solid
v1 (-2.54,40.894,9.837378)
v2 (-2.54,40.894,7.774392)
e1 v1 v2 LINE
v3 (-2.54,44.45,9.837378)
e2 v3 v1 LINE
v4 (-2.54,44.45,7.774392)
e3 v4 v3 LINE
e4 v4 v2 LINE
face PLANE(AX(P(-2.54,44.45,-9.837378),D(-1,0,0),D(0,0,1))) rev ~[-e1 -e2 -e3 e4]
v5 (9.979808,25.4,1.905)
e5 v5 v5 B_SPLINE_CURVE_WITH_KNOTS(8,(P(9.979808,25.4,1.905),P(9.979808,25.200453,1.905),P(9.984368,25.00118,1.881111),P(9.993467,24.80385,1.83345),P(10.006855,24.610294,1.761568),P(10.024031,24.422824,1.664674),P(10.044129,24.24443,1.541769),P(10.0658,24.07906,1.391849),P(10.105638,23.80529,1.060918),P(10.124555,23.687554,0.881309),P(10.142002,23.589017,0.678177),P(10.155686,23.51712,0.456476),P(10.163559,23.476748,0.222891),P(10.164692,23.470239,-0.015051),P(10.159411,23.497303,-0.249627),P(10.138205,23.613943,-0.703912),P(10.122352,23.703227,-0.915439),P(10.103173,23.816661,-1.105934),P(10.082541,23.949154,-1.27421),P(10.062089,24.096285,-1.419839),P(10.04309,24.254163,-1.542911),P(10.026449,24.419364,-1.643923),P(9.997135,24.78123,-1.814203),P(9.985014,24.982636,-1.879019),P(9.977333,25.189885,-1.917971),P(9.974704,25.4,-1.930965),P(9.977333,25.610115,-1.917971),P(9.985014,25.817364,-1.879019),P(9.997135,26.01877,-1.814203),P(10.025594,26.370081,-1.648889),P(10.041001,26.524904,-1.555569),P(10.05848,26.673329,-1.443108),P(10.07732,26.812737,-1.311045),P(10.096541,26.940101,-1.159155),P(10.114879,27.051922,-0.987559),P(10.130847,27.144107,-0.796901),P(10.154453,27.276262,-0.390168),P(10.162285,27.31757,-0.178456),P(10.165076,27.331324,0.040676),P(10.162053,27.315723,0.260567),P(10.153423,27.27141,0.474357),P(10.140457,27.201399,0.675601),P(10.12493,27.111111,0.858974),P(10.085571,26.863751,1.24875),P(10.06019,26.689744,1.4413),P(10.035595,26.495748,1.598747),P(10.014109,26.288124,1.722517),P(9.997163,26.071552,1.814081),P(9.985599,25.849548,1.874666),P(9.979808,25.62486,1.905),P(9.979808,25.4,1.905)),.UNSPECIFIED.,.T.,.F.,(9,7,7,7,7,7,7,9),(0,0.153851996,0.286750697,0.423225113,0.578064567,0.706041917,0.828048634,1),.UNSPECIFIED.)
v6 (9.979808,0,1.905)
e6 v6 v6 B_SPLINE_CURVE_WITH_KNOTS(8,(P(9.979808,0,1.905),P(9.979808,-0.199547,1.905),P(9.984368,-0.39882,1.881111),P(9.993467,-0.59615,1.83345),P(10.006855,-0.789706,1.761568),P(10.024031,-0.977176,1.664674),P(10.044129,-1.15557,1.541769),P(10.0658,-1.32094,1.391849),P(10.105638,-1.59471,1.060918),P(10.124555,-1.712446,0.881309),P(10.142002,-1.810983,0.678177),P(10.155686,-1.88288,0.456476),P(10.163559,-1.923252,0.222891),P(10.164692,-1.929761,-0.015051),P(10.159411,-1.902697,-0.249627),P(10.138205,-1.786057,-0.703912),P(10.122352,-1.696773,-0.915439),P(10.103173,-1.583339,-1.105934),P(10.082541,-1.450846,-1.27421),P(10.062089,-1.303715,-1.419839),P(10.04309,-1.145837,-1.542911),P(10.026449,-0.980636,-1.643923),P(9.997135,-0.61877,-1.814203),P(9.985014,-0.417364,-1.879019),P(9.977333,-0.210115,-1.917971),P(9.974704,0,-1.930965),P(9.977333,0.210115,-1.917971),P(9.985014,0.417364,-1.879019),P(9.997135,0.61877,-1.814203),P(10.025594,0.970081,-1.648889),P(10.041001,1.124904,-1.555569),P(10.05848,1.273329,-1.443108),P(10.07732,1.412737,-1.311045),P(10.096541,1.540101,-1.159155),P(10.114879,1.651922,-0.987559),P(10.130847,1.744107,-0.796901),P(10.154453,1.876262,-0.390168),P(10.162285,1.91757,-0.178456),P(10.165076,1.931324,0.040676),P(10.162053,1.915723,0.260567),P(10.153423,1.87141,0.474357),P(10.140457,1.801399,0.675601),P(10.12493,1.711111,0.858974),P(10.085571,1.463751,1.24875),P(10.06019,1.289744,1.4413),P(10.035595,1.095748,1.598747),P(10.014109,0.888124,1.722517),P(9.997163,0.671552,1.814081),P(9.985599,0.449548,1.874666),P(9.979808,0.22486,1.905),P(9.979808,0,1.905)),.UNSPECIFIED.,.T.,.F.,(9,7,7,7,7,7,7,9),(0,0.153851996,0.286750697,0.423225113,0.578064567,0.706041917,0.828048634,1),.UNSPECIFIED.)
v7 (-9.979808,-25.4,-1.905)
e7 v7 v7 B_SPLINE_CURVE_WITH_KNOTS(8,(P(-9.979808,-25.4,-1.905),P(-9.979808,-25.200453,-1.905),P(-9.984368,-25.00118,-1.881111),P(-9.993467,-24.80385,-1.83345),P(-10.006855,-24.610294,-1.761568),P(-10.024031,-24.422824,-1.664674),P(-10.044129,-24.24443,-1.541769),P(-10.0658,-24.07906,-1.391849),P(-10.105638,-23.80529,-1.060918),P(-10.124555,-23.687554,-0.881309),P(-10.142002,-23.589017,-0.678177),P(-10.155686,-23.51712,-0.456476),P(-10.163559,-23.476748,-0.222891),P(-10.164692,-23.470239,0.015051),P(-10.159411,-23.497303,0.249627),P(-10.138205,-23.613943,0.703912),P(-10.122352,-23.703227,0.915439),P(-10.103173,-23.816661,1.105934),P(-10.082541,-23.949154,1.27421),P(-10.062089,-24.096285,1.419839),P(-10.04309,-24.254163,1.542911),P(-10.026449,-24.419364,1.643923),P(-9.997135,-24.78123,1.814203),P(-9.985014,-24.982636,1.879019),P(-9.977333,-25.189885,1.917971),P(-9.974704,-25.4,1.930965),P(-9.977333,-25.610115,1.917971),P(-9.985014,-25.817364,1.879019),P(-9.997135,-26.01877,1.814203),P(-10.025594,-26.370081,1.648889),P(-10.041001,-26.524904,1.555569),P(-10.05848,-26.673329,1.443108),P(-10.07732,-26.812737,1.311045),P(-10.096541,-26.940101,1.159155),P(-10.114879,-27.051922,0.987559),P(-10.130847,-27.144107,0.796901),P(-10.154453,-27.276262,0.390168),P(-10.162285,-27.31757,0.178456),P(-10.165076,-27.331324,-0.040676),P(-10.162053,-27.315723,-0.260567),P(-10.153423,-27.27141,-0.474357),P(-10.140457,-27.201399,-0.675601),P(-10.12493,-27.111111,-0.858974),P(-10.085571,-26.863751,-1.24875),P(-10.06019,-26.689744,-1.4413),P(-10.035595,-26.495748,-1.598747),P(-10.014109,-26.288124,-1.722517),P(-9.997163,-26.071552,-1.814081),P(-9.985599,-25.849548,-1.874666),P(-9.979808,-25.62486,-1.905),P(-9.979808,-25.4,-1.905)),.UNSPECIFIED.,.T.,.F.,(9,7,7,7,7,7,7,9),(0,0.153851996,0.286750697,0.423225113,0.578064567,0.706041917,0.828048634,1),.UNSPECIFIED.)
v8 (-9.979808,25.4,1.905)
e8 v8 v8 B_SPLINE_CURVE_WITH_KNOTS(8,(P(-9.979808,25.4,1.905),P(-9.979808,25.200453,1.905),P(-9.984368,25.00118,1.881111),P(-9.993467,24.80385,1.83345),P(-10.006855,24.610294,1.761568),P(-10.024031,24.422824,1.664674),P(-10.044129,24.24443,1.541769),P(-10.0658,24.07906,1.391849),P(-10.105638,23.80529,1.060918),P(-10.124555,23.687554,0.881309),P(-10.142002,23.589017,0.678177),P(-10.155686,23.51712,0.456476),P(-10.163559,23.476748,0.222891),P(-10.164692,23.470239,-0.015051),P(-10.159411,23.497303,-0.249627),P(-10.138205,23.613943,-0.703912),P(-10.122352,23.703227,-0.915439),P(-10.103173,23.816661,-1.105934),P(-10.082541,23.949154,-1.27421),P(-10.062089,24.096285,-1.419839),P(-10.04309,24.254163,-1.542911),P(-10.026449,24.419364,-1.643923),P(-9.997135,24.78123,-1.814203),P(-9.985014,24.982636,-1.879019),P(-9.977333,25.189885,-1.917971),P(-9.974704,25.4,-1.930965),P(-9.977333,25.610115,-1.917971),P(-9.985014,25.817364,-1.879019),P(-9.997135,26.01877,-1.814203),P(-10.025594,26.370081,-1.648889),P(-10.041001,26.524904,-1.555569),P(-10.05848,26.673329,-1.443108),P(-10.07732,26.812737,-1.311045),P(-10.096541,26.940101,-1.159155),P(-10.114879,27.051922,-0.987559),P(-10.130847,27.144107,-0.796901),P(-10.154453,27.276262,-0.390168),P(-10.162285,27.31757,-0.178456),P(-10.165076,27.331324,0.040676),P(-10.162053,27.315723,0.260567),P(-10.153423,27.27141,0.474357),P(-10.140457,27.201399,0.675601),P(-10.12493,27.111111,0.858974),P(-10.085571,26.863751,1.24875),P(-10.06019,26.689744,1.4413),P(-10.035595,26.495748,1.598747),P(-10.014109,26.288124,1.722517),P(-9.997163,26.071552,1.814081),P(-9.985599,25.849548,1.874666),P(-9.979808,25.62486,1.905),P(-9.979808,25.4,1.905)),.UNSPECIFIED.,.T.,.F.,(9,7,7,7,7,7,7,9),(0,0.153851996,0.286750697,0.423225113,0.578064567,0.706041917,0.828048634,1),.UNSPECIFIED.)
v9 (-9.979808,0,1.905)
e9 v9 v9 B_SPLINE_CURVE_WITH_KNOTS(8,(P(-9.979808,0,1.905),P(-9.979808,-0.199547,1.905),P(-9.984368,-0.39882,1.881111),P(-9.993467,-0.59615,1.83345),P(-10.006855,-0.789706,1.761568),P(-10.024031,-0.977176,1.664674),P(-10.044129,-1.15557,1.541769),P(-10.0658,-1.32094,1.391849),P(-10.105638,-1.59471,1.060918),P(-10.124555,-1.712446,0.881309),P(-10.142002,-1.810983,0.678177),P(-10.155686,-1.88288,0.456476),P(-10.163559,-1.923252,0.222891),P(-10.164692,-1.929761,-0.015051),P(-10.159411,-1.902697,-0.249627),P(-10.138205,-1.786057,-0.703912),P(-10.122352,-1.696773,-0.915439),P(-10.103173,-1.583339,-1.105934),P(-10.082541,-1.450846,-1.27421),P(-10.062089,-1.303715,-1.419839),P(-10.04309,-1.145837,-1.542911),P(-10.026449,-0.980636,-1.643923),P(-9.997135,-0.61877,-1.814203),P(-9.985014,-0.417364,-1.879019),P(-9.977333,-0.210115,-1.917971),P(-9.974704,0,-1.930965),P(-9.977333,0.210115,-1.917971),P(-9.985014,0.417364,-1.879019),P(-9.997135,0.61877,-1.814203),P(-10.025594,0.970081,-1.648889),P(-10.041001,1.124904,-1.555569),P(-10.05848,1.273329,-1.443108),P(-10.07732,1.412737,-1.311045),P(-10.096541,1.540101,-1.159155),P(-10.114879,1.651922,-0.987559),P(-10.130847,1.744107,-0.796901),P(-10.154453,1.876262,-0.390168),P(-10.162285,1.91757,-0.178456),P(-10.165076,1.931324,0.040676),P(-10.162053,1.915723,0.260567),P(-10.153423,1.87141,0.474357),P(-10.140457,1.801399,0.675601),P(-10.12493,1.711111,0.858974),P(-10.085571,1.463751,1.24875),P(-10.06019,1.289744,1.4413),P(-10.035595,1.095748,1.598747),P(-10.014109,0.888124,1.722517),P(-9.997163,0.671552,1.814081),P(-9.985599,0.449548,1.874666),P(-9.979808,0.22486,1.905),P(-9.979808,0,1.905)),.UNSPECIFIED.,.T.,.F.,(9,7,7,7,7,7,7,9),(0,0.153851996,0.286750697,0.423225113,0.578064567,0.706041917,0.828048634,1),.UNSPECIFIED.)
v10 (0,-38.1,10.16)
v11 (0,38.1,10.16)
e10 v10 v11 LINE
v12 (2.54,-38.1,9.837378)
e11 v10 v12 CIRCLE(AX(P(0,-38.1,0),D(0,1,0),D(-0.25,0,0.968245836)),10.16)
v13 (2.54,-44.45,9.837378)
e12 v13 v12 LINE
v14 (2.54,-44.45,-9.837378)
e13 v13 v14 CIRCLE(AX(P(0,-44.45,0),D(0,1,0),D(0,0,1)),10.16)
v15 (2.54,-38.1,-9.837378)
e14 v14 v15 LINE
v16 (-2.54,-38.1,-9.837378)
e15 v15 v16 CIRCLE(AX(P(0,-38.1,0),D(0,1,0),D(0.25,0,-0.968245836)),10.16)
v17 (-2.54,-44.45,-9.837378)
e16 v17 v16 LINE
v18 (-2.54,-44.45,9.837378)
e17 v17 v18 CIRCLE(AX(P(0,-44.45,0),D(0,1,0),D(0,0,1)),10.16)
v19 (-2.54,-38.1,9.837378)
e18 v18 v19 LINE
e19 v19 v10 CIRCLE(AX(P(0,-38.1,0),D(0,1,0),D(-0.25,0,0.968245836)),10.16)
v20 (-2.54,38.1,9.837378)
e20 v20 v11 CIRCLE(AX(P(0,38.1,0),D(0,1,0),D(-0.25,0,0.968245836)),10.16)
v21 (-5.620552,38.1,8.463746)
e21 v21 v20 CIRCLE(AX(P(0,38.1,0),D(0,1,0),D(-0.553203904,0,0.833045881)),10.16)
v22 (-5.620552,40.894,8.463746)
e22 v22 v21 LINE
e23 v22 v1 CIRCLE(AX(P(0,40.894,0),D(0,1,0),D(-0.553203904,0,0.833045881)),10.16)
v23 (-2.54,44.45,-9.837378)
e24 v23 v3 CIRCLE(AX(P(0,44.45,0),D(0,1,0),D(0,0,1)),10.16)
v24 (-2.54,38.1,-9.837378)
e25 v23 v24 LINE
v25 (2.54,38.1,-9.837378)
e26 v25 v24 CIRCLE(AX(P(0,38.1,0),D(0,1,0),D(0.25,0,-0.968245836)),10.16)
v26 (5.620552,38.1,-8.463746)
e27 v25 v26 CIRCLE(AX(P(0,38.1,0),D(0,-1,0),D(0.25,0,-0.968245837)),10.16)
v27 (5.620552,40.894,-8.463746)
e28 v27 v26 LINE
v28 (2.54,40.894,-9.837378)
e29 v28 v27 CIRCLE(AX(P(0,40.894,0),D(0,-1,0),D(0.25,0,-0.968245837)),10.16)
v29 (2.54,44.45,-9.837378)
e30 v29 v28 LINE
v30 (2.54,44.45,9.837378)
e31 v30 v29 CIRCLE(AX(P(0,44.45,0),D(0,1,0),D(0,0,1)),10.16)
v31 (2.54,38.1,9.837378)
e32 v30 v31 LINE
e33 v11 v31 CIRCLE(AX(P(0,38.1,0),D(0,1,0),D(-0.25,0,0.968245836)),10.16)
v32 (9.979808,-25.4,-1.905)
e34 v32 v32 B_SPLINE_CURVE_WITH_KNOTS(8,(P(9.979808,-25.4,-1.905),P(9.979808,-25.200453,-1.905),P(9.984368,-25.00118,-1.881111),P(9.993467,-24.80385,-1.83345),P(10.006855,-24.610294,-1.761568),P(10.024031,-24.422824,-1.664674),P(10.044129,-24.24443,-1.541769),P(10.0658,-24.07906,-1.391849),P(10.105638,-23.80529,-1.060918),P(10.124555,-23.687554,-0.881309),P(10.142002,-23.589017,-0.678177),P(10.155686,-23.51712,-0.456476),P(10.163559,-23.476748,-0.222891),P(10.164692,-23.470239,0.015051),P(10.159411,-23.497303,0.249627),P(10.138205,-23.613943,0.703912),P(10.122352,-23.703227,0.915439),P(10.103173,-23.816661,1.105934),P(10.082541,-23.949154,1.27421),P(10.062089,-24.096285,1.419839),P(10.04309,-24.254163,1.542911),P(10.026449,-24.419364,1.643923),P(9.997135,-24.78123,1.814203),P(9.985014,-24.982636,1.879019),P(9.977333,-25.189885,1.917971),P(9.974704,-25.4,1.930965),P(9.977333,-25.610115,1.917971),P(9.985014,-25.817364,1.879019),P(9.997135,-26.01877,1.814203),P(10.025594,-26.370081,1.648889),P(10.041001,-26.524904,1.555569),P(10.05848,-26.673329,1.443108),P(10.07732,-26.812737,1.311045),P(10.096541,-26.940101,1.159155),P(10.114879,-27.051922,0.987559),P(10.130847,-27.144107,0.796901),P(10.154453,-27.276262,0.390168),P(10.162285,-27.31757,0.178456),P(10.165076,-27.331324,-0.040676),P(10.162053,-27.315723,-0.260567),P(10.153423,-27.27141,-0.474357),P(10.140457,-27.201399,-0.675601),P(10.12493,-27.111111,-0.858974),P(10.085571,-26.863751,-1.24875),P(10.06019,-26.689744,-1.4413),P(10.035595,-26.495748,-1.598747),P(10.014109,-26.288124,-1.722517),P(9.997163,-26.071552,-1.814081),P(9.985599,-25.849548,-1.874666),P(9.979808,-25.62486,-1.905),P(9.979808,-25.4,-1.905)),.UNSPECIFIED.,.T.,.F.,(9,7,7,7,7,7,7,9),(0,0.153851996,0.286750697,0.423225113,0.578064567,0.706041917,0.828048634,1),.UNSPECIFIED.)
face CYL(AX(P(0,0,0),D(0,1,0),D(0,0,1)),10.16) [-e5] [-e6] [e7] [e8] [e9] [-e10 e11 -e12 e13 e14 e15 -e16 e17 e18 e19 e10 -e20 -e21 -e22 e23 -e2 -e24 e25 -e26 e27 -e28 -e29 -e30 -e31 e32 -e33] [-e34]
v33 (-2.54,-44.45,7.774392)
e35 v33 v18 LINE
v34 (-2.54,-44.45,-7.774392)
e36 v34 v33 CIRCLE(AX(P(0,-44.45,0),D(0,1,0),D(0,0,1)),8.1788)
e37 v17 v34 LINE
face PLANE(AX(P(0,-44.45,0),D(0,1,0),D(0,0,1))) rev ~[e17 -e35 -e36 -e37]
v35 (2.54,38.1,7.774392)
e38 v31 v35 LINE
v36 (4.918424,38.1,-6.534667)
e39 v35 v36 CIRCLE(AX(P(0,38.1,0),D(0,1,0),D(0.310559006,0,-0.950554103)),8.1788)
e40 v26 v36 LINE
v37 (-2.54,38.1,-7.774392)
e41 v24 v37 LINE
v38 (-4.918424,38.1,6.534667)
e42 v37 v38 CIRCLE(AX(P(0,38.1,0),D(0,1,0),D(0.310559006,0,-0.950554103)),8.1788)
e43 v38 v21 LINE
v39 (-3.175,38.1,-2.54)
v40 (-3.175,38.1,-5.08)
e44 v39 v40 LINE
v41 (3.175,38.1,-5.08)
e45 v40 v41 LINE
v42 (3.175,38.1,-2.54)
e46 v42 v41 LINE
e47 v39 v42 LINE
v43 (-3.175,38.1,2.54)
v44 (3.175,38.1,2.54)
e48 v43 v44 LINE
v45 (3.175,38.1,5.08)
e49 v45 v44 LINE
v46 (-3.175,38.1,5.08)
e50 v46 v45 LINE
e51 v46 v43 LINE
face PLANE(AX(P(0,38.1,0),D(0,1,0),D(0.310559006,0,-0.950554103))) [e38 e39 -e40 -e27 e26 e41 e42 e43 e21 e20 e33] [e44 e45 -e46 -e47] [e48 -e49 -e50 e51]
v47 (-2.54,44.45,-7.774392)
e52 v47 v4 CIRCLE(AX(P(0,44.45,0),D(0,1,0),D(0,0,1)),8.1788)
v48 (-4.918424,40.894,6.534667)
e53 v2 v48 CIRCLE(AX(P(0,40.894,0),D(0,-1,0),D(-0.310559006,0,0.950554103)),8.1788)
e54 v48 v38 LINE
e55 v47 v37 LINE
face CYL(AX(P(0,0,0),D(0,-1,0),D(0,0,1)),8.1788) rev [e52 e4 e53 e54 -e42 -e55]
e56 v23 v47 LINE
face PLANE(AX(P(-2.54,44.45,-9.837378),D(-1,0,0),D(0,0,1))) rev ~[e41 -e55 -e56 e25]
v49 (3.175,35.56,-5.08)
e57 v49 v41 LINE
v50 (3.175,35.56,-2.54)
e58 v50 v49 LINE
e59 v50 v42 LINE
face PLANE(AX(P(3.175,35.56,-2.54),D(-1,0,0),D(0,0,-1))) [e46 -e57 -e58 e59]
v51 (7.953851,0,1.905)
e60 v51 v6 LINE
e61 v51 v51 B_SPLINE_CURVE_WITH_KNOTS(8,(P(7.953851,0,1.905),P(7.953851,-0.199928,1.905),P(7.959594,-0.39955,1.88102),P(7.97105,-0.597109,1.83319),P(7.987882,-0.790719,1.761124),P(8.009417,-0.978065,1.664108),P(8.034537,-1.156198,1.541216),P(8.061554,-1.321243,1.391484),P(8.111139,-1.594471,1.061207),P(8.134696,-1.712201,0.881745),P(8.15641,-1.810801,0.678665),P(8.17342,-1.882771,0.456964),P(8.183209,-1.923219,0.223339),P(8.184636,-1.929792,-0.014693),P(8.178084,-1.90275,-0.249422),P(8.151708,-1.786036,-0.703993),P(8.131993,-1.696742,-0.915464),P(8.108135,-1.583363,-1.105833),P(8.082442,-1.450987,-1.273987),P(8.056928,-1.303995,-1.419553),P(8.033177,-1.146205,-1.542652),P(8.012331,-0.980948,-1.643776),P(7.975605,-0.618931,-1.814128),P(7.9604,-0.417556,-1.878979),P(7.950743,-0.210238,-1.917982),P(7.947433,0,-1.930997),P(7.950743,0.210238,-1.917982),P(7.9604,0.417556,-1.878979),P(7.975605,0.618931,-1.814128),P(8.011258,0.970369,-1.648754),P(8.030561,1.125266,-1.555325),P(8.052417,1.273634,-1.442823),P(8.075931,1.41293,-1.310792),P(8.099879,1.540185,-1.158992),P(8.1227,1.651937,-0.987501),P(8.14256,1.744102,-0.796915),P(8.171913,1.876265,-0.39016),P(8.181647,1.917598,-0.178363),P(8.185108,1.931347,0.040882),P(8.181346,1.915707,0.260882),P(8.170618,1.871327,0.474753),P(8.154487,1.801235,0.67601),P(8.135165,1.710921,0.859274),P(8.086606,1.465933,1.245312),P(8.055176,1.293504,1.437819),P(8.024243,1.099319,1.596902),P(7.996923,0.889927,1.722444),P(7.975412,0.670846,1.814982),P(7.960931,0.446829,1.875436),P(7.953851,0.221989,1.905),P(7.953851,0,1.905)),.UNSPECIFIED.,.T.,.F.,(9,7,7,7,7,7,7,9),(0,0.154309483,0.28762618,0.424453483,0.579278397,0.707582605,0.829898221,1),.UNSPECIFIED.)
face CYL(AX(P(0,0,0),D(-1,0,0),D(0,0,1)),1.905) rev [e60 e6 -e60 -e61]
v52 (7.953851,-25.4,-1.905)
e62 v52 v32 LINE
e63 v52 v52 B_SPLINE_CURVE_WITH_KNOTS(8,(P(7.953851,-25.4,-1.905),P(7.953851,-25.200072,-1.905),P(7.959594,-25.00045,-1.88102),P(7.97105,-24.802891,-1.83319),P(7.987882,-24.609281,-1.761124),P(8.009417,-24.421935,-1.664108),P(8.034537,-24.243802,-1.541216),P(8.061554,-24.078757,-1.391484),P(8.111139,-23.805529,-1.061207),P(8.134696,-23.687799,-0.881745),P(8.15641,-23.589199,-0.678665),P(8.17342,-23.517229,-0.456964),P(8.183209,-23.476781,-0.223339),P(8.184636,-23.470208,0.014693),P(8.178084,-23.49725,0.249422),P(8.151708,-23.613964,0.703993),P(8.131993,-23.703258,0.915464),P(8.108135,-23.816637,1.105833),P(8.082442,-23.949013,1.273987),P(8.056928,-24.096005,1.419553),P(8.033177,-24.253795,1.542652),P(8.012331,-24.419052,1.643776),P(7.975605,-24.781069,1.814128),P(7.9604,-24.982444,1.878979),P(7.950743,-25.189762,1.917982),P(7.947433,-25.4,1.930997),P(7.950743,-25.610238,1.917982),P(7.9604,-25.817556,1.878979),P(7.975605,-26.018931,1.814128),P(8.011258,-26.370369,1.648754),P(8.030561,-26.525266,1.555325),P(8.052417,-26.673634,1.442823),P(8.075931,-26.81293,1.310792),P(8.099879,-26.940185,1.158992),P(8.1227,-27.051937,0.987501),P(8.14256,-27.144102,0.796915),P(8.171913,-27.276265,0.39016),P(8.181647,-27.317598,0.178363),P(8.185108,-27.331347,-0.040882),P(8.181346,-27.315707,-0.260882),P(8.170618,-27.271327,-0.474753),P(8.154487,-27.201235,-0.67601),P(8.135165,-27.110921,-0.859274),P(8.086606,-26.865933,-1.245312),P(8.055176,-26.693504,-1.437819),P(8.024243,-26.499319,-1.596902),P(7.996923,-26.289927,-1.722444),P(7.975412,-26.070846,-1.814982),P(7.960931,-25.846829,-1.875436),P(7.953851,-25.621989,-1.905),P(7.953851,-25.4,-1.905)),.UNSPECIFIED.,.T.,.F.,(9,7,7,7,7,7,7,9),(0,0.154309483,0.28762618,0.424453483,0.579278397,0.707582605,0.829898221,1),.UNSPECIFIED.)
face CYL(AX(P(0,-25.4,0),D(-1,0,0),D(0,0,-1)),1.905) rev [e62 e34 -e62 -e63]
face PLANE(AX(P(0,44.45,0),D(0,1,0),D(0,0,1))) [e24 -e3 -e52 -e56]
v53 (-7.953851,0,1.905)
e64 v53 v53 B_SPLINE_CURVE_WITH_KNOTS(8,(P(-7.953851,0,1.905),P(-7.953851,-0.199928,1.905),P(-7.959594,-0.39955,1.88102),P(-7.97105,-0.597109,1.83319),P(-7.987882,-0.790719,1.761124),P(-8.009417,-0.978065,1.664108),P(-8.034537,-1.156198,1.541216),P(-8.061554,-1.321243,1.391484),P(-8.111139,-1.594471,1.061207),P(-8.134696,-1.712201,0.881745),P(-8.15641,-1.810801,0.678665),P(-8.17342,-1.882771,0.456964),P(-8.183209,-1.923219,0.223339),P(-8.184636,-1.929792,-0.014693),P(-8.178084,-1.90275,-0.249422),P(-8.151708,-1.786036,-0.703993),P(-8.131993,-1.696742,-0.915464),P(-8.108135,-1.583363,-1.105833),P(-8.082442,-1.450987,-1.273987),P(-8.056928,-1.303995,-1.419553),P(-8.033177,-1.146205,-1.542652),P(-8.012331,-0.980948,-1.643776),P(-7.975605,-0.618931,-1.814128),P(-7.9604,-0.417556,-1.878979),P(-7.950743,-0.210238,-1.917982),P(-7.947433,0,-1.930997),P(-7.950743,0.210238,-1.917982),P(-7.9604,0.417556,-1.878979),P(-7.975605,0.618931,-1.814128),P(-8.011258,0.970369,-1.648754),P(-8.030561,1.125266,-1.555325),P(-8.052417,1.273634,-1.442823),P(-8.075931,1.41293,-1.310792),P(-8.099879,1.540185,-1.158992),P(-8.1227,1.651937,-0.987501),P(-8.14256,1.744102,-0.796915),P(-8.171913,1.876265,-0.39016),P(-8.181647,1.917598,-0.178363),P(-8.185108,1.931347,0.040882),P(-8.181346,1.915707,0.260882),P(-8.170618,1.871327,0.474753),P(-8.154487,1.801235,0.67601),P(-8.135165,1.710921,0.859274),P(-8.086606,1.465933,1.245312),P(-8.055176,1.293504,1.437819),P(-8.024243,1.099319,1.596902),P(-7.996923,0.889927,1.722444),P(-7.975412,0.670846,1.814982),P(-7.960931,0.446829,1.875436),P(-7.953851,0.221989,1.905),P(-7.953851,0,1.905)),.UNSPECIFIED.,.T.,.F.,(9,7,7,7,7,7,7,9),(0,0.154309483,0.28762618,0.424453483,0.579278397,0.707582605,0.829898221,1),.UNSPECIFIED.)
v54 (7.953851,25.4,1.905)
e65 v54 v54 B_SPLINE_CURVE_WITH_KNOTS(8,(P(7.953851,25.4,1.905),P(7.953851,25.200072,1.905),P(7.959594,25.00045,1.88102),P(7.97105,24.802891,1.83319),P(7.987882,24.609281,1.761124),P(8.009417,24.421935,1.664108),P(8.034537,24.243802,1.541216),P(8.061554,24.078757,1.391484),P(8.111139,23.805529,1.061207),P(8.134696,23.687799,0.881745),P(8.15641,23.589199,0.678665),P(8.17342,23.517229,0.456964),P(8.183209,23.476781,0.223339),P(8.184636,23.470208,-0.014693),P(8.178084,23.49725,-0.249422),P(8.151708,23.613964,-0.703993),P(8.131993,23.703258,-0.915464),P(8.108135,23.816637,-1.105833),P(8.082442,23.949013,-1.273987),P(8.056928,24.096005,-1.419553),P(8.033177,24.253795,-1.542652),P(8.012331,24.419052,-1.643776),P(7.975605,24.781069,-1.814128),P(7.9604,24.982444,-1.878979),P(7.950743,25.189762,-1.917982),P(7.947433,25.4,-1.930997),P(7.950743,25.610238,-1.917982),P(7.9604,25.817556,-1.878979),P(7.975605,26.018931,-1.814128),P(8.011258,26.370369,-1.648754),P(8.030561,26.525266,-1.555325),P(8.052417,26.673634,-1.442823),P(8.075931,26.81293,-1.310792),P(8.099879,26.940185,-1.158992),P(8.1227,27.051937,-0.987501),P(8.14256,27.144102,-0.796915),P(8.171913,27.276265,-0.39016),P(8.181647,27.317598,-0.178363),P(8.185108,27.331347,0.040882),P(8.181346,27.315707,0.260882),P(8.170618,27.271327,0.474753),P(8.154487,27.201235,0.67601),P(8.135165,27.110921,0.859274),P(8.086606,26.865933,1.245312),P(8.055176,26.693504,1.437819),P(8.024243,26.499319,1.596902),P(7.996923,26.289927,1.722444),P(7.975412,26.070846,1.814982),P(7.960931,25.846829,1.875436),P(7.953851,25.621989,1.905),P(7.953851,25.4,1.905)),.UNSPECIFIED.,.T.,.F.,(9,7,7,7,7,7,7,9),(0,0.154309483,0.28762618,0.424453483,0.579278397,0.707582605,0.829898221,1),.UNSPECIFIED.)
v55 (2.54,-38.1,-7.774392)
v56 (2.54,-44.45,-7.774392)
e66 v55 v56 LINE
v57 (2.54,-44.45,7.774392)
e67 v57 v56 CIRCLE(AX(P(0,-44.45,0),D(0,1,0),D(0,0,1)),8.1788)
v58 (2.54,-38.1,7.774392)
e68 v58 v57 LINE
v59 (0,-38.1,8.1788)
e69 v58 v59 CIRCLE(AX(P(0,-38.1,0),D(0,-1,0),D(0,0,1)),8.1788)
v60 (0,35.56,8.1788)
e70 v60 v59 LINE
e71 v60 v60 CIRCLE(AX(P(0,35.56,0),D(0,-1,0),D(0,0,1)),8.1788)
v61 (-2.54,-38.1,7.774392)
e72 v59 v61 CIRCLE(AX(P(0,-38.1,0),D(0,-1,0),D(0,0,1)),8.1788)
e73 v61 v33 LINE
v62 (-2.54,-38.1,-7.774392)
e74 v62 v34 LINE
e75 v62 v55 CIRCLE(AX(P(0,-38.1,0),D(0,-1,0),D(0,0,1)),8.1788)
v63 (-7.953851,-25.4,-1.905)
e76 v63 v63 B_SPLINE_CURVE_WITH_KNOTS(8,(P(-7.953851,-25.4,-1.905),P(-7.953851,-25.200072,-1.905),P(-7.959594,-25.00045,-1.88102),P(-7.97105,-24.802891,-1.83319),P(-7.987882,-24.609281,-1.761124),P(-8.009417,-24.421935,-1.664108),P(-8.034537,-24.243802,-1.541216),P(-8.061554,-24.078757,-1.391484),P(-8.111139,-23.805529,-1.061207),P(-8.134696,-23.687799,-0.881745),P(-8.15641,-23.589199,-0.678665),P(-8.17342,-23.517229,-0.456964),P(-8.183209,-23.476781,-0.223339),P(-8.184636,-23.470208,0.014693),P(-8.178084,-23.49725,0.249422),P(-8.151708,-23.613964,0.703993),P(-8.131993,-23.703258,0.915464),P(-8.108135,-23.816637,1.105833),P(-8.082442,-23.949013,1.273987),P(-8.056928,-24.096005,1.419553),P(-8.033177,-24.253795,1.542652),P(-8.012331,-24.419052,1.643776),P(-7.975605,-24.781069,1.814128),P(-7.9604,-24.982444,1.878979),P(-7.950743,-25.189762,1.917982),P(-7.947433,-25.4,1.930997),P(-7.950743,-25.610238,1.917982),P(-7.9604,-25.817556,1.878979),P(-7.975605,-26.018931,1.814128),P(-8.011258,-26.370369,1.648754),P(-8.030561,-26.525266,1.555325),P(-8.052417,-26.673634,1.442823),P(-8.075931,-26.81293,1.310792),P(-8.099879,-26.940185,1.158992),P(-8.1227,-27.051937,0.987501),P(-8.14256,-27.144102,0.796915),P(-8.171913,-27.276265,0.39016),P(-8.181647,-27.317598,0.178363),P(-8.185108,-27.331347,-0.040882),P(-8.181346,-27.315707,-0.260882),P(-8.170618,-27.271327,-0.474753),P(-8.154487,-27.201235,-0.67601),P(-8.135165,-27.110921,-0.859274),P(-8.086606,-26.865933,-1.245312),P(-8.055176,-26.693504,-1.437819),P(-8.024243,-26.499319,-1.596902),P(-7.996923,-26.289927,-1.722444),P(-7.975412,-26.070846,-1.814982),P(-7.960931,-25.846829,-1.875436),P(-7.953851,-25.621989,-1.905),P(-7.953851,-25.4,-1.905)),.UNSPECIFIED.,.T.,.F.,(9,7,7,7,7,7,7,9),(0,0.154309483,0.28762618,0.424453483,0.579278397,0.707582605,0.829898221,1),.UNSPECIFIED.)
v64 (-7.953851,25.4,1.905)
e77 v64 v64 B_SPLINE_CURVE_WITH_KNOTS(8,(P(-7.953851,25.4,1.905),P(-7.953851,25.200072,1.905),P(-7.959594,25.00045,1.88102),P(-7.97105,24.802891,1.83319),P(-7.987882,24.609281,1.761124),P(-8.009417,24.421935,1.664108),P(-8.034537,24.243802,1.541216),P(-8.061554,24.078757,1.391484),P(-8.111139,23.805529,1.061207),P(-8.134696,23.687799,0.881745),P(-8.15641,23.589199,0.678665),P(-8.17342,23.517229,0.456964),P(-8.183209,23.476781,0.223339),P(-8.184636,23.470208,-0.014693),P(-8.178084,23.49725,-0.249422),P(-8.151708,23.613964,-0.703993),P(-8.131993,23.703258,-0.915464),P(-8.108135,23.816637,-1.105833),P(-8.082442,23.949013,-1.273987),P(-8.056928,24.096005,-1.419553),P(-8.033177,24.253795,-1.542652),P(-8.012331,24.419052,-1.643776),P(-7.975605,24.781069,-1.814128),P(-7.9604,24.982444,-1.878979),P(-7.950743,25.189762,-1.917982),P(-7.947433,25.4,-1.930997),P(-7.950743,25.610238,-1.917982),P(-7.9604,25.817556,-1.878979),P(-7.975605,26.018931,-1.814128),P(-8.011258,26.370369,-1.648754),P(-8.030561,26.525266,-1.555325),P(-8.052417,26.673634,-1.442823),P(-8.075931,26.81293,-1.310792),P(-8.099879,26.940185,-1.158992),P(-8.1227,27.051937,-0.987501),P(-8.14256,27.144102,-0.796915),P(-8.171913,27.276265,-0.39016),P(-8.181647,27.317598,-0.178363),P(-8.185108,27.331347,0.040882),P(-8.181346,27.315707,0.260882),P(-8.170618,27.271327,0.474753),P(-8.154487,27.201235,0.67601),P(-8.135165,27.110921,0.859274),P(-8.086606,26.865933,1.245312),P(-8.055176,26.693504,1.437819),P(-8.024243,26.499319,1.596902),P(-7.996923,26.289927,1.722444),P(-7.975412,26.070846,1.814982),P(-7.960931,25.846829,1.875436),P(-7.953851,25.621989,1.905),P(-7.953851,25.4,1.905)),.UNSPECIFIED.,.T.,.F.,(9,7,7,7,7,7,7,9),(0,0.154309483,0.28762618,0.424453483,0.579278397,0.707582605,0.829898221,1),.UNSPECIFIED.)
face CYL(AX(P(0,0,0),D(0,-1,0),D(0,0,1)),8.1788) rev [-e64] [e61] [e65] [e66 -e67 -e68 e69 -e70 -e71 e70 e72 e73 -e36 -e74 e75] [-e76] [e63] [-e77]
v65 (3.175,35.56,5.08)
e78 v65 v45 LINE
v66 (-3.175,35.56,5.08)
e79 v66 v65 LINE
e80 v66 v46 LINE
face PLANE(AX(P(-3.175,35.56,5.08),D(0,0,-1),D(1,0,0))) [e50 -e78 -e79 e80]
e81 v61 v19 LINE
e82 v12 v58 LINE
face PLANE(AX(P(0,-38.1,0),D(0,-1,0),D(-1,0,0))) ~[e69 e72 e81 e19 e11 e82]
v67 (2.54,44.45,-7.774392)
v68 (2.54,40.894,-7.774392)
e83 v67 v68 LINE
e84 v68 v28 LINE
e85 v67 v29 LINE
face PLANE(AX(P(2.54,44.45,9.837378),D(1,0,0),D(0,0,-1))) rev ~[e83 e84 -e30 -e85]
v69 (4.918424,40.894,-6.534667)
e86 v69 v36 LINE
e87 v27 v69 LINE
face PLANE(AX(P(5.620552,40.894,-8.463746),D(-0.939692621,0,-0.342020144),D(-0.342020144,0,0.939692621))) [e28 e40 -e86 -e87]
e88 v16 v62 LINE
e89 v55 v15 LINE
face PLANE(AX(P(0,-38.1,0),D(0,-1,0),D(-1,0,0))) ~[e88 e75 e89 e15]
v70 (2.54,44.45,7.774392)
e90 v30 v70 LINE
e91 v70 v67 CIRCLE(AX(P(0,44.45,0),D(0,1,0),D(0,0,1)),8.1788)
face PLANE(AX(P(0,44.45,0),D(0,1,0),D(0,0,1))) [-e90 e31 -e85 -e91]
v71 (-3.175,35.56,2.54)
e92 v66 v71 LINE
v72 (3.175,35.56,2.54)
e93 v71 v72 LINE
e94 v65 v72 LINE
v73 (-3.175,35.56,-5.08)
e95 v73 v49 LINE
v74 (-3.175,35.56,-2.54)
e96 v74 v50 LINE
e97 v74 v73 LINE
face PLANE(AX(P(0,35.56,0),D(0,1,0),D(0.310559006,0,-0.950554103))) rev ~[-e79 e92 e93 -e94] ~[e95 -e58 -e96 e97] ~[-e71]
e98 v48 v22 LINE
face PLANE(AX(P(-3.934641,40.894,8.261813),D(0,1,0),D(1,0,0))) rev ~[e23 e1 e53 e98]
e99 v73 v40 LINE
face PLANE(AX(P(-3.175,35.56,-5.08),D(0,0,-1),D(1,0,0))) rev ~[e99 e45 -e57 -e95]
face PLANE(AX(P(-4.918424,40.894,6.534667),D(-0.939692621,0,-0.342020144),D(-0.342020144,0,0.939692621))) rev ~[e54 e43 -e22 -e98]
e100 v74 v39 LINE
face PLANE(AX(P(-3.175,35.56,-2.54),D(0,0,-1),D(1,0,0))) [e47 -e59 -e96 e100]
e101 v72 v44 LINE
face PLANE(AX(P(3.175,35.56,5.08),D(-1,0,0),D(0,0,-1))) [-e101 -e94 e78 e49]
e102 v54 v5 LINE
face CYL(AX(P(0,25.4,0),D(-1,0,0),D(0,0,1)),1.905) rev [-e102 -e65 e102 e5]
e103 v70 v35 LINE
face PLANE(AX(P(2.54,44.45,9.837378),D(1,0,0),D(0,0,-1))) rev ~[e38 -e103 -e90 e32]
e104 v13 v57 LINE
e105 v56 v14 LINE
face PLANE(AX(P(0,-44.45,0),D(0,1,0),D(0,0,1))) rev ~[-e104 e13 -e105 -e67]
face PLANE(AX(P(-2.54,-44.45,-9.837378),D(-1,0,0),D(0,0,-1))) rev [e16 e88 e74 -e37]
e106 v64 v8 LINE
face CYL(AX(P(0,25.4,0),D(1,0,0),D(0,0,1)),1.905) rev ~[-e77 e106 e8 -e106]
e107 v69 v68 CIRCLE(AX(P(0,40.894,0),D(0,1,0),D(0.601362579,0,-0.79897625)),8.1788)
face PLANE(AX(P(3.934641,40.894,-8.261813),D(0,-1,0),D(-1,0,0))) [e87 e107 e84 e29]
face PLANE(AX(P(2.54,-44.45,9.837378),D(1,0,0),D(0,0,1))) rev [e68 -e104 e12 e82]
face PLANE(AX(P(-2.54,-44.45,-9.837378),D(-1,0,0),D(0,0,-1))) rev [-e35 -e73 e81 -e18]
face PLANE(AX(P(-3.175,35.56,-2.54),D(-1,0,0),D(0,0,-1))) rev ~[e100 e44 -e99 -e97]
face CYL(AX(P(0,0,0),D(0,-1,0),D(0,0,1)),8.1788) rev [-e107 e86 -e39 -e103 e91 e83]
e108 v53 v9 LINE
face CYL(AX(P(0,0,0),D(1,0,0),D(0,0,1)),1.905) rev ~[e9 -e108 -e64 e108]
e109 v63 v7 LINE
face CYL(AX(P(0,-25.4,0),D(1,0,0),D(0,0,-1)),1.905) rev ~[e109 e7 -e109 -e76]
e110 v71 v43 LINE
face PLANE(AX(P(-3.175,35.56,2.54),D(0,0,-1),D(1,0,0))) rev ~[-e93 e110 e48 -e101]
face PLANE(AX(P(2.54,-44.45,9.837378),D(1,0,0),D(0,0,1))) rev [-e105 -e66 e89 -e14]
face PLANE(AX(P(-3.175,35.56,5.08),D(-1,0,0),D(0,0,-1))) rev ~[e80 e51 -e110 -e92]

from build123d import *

# Parameters (mm, degrees)
SKETCH2_R                      = 10.16
SKETCH2_R_2                    = 8.1788
BOSS_EXTRUDE2_DEPTH            = 44.45
CUT_EXTRUDE1_DEPTH             = 6.35
CUT_EXTRUDE3_REACH             = 48.715
SKETCH5_R                      = 1.905
CUT_EXTRUDE3_DIRECTION_2_DEPTH = 13.97
CUT_EXTRUDE4_START             = -3.556
CUT_EXTRUDE4_DEPTH             = 2.794
BOSS_EXTRUDE3_START            = -2.54
SKETCH7_R                      = 8.1788
SKETCH7_W                      = 6.35
SKETCH7_H                      = 2.54
BOSS_EXTRUDE3_DEPTH            = 2.54


with BuildPart() as part:
    # Sketch2 → Boss-Extrude2 (new, symmetric)
    with BuildSketch(Plane(origin=(0, 0, 0), x_dir=(1, 0, 0), z_dir=(0, 1, 0))):
        with Locations(Location((0, 0, 0), (0, 0, 270))):
            Circle(SKETCH2_R)
        with Locations(Location((0, 0, 0), (0, 0, 270))):
            Circle(SKETCH2_R_2, mode=Mode.SUBTRACT)
    extrude(amount=BOSS_EXTRUDE2_DEPTH, both=True)

    # Sketch4 → Cut-Extrude1 (cut)
    with BuildSketch(Plane(origin=(0, 44.45, 0), x_dir=(1, 0, 0), z_dir=(0, 1, 0))):
        with BuildLine():
            Line((-2.54, 9.837377699), (-2.54, -9.837377699))
            ThreePointArc((-2.54, -9.837377699), (0, -10.16), (2.54, -9.837377699))
            Line((2.54, -9.837377699), (2.54, 9.837377699))
            ThreePointArc((2.54, 9.837377699), (0, 10.16), (-2.54, 9.837377699))
        make_face()
    cut_extrude1 = extrude(amount=-CUT_EXTRUDE1_DEPTH, mode=Mode.SUBTRACT)

    # Mirror1: Cut-Extrude1 across plane
    add(cut_extrude1.mirror(Plane.ZX), mode=Mode.SUBTRACT)

    # Sketch5 → Cut-Extrude3 (cut, up to next)
    with BuildSketch(Plane(origin=(0, 0, 0), x_dir=(0, 0, -1), z_dir=(1, 0, 0)), mode=Mode.PRIVATE) as cut_extrude3_sk1:
        with Locations(Location((0, 0, 0), (0, 0, 180))):
            Circle(SKETCH5_R)
    cut_extrude3_tool1 = extrude(cut_extrude3_sk1.sketch, amount=-CUT_EXTRUDE3_REACH, mode=Mode.PRIVATE) & part.part
    # Sketch5 → Cut-Extrude3 (cut, up to next)
    with BuildSketch(Plane(origin=(0, 0, 0), x_dir=(0, 0, -1), z_dir=(1, 0, 0)), mode=Mode.PRIVATE) as cut_extrude3_sk2:
        with Locations(Location((0, 25.4, 0), (0, 0, 180))):
            Circle(SKETCH5_R)
    cut_extrude3_tool2 = extrude(cut_extrude3_sk2.sketch, amount=-CUT_EXTRUDE3_REACH, mode=Mode.PRIVATE) & part.part
    # Sketch5 → Cut-Extrude3 (cut, up to next)
    with BuildSketch(Plane(origin=(0, 0, 0), x_dir=(0, 0, -1), z_dir=(1, 0, 0)), mode=Mode.PRIVATE) as cut_extrude3_sk3:
        with Locations((0, -25.4)):
            Circle(SKETCH5_R)
    cut_extrude3_tool3 = extrude(cut_extrude3_sk3.sketch, amount=-CUT_EXTRUDE3_REACH, mode=Mode.PRIVATE) & part.part
    add(cut_extrude3_tool1.solids().sort_by_distance((0, 0, 0))[0], mode=Mode.SUBTRACT)
    add(cut_extrude3_tool2.solids().sort_by_distance((0, 25.4, 0))[0], mode=Mode.SUBTRACT)
    add(cut_extrude3_tool3.solids().sort_by_distance((0, -25.4, 0))[0], mode=Mode.SUBTRACT)

    # Sketch5 → Cut-Extrude3 direction 2 (cut)
    with BuildSketch(Plane(origin=(0, 0, 0), x_dir=(0, 0, -1), z_dir=(1, 0, 0))):
        with Locations(Location((0, 0, 0), (0, 0, 180))):
            Circle(SKETCH5_R)
        with Locations(Location((0, 25.4, 0), (0, 0, 180))):
            Circle(SKETCH5_R)
        with Locations((0, -25.4)):
            Circle(SKETCH5_R)
    extrude(amount=CUT_EXTRUDE3_DIRECTION_2_DEPTH, mode=Mode.SUBTRACT)

    # Sketch6 → Cut-Extrude4 (cut)
    with BuildSketch(Plane(origin=(0, 44.45, 0), x_dir=(1, 0, 0), z_dir=(0, 1, 0)).offset(CUT_EXTRUDE4_START)):
        with BuildLine():
            Line((-4.918424262, -6.534666955), (-5.62055167, -8.463746152))
            ThreePointArc((-5.62055167, -8.463746152), (-4.137676497, -9.279290555), (-2.54, -9.837377699))
            Line((-2.54, -9.837377699), (-2.54, -7.774391902))
            ThreePointArc((-2.54, -7.774391902), (-3.78037731, -7.252690317), (-4.918424262, -6.534666955))
        make_face()
        with BuildLine():
            Line((2.54, 7.774391902), (2.54, 9.837377699))
            ThreePointArc((2.54, 9.837377699), (4.137676497, 9.279290555), (5.62055167, 8.463746152))
            Line((5.62055167, 8.463746152), (4.918424262, 6.534666955))
            ThreePointArc((4.918424262, 6.534666955), (3.78037731, 7.252690317), (2.54, 7.774391902))
        make_face()
    extrude(amount=-CUT_EXTRUDE4_DEPTH, mode=Mode.SUBTRACT)

    # Sketch7 → Boss-Extrude3 (add)
    with BuildSketch(Plane(origin=(0, 38.1, 0), x_dir=(1, 0, 0), z_dir=(0, 1, 0)).offset(BOSS_EXTRUDE3_START)):
        with Locations(Location((0, 0, 0), (0, 0, 71.907077979))):
            Circle(SKETCH7_R)
        with Locations((0, 3.81)):
            Rectangle(SKETCH7_W, SKETCH7_H, mode=Mode.SUBTRACT)
        with Locations((0, -3.81)):
            Rectangle(SKETCH7_W, SKETCH7_H, mode=Mode.SUBTRACT)
    extrude(amount=BOSS_EXTRUDE3_DEPTH)


solid = part.part
